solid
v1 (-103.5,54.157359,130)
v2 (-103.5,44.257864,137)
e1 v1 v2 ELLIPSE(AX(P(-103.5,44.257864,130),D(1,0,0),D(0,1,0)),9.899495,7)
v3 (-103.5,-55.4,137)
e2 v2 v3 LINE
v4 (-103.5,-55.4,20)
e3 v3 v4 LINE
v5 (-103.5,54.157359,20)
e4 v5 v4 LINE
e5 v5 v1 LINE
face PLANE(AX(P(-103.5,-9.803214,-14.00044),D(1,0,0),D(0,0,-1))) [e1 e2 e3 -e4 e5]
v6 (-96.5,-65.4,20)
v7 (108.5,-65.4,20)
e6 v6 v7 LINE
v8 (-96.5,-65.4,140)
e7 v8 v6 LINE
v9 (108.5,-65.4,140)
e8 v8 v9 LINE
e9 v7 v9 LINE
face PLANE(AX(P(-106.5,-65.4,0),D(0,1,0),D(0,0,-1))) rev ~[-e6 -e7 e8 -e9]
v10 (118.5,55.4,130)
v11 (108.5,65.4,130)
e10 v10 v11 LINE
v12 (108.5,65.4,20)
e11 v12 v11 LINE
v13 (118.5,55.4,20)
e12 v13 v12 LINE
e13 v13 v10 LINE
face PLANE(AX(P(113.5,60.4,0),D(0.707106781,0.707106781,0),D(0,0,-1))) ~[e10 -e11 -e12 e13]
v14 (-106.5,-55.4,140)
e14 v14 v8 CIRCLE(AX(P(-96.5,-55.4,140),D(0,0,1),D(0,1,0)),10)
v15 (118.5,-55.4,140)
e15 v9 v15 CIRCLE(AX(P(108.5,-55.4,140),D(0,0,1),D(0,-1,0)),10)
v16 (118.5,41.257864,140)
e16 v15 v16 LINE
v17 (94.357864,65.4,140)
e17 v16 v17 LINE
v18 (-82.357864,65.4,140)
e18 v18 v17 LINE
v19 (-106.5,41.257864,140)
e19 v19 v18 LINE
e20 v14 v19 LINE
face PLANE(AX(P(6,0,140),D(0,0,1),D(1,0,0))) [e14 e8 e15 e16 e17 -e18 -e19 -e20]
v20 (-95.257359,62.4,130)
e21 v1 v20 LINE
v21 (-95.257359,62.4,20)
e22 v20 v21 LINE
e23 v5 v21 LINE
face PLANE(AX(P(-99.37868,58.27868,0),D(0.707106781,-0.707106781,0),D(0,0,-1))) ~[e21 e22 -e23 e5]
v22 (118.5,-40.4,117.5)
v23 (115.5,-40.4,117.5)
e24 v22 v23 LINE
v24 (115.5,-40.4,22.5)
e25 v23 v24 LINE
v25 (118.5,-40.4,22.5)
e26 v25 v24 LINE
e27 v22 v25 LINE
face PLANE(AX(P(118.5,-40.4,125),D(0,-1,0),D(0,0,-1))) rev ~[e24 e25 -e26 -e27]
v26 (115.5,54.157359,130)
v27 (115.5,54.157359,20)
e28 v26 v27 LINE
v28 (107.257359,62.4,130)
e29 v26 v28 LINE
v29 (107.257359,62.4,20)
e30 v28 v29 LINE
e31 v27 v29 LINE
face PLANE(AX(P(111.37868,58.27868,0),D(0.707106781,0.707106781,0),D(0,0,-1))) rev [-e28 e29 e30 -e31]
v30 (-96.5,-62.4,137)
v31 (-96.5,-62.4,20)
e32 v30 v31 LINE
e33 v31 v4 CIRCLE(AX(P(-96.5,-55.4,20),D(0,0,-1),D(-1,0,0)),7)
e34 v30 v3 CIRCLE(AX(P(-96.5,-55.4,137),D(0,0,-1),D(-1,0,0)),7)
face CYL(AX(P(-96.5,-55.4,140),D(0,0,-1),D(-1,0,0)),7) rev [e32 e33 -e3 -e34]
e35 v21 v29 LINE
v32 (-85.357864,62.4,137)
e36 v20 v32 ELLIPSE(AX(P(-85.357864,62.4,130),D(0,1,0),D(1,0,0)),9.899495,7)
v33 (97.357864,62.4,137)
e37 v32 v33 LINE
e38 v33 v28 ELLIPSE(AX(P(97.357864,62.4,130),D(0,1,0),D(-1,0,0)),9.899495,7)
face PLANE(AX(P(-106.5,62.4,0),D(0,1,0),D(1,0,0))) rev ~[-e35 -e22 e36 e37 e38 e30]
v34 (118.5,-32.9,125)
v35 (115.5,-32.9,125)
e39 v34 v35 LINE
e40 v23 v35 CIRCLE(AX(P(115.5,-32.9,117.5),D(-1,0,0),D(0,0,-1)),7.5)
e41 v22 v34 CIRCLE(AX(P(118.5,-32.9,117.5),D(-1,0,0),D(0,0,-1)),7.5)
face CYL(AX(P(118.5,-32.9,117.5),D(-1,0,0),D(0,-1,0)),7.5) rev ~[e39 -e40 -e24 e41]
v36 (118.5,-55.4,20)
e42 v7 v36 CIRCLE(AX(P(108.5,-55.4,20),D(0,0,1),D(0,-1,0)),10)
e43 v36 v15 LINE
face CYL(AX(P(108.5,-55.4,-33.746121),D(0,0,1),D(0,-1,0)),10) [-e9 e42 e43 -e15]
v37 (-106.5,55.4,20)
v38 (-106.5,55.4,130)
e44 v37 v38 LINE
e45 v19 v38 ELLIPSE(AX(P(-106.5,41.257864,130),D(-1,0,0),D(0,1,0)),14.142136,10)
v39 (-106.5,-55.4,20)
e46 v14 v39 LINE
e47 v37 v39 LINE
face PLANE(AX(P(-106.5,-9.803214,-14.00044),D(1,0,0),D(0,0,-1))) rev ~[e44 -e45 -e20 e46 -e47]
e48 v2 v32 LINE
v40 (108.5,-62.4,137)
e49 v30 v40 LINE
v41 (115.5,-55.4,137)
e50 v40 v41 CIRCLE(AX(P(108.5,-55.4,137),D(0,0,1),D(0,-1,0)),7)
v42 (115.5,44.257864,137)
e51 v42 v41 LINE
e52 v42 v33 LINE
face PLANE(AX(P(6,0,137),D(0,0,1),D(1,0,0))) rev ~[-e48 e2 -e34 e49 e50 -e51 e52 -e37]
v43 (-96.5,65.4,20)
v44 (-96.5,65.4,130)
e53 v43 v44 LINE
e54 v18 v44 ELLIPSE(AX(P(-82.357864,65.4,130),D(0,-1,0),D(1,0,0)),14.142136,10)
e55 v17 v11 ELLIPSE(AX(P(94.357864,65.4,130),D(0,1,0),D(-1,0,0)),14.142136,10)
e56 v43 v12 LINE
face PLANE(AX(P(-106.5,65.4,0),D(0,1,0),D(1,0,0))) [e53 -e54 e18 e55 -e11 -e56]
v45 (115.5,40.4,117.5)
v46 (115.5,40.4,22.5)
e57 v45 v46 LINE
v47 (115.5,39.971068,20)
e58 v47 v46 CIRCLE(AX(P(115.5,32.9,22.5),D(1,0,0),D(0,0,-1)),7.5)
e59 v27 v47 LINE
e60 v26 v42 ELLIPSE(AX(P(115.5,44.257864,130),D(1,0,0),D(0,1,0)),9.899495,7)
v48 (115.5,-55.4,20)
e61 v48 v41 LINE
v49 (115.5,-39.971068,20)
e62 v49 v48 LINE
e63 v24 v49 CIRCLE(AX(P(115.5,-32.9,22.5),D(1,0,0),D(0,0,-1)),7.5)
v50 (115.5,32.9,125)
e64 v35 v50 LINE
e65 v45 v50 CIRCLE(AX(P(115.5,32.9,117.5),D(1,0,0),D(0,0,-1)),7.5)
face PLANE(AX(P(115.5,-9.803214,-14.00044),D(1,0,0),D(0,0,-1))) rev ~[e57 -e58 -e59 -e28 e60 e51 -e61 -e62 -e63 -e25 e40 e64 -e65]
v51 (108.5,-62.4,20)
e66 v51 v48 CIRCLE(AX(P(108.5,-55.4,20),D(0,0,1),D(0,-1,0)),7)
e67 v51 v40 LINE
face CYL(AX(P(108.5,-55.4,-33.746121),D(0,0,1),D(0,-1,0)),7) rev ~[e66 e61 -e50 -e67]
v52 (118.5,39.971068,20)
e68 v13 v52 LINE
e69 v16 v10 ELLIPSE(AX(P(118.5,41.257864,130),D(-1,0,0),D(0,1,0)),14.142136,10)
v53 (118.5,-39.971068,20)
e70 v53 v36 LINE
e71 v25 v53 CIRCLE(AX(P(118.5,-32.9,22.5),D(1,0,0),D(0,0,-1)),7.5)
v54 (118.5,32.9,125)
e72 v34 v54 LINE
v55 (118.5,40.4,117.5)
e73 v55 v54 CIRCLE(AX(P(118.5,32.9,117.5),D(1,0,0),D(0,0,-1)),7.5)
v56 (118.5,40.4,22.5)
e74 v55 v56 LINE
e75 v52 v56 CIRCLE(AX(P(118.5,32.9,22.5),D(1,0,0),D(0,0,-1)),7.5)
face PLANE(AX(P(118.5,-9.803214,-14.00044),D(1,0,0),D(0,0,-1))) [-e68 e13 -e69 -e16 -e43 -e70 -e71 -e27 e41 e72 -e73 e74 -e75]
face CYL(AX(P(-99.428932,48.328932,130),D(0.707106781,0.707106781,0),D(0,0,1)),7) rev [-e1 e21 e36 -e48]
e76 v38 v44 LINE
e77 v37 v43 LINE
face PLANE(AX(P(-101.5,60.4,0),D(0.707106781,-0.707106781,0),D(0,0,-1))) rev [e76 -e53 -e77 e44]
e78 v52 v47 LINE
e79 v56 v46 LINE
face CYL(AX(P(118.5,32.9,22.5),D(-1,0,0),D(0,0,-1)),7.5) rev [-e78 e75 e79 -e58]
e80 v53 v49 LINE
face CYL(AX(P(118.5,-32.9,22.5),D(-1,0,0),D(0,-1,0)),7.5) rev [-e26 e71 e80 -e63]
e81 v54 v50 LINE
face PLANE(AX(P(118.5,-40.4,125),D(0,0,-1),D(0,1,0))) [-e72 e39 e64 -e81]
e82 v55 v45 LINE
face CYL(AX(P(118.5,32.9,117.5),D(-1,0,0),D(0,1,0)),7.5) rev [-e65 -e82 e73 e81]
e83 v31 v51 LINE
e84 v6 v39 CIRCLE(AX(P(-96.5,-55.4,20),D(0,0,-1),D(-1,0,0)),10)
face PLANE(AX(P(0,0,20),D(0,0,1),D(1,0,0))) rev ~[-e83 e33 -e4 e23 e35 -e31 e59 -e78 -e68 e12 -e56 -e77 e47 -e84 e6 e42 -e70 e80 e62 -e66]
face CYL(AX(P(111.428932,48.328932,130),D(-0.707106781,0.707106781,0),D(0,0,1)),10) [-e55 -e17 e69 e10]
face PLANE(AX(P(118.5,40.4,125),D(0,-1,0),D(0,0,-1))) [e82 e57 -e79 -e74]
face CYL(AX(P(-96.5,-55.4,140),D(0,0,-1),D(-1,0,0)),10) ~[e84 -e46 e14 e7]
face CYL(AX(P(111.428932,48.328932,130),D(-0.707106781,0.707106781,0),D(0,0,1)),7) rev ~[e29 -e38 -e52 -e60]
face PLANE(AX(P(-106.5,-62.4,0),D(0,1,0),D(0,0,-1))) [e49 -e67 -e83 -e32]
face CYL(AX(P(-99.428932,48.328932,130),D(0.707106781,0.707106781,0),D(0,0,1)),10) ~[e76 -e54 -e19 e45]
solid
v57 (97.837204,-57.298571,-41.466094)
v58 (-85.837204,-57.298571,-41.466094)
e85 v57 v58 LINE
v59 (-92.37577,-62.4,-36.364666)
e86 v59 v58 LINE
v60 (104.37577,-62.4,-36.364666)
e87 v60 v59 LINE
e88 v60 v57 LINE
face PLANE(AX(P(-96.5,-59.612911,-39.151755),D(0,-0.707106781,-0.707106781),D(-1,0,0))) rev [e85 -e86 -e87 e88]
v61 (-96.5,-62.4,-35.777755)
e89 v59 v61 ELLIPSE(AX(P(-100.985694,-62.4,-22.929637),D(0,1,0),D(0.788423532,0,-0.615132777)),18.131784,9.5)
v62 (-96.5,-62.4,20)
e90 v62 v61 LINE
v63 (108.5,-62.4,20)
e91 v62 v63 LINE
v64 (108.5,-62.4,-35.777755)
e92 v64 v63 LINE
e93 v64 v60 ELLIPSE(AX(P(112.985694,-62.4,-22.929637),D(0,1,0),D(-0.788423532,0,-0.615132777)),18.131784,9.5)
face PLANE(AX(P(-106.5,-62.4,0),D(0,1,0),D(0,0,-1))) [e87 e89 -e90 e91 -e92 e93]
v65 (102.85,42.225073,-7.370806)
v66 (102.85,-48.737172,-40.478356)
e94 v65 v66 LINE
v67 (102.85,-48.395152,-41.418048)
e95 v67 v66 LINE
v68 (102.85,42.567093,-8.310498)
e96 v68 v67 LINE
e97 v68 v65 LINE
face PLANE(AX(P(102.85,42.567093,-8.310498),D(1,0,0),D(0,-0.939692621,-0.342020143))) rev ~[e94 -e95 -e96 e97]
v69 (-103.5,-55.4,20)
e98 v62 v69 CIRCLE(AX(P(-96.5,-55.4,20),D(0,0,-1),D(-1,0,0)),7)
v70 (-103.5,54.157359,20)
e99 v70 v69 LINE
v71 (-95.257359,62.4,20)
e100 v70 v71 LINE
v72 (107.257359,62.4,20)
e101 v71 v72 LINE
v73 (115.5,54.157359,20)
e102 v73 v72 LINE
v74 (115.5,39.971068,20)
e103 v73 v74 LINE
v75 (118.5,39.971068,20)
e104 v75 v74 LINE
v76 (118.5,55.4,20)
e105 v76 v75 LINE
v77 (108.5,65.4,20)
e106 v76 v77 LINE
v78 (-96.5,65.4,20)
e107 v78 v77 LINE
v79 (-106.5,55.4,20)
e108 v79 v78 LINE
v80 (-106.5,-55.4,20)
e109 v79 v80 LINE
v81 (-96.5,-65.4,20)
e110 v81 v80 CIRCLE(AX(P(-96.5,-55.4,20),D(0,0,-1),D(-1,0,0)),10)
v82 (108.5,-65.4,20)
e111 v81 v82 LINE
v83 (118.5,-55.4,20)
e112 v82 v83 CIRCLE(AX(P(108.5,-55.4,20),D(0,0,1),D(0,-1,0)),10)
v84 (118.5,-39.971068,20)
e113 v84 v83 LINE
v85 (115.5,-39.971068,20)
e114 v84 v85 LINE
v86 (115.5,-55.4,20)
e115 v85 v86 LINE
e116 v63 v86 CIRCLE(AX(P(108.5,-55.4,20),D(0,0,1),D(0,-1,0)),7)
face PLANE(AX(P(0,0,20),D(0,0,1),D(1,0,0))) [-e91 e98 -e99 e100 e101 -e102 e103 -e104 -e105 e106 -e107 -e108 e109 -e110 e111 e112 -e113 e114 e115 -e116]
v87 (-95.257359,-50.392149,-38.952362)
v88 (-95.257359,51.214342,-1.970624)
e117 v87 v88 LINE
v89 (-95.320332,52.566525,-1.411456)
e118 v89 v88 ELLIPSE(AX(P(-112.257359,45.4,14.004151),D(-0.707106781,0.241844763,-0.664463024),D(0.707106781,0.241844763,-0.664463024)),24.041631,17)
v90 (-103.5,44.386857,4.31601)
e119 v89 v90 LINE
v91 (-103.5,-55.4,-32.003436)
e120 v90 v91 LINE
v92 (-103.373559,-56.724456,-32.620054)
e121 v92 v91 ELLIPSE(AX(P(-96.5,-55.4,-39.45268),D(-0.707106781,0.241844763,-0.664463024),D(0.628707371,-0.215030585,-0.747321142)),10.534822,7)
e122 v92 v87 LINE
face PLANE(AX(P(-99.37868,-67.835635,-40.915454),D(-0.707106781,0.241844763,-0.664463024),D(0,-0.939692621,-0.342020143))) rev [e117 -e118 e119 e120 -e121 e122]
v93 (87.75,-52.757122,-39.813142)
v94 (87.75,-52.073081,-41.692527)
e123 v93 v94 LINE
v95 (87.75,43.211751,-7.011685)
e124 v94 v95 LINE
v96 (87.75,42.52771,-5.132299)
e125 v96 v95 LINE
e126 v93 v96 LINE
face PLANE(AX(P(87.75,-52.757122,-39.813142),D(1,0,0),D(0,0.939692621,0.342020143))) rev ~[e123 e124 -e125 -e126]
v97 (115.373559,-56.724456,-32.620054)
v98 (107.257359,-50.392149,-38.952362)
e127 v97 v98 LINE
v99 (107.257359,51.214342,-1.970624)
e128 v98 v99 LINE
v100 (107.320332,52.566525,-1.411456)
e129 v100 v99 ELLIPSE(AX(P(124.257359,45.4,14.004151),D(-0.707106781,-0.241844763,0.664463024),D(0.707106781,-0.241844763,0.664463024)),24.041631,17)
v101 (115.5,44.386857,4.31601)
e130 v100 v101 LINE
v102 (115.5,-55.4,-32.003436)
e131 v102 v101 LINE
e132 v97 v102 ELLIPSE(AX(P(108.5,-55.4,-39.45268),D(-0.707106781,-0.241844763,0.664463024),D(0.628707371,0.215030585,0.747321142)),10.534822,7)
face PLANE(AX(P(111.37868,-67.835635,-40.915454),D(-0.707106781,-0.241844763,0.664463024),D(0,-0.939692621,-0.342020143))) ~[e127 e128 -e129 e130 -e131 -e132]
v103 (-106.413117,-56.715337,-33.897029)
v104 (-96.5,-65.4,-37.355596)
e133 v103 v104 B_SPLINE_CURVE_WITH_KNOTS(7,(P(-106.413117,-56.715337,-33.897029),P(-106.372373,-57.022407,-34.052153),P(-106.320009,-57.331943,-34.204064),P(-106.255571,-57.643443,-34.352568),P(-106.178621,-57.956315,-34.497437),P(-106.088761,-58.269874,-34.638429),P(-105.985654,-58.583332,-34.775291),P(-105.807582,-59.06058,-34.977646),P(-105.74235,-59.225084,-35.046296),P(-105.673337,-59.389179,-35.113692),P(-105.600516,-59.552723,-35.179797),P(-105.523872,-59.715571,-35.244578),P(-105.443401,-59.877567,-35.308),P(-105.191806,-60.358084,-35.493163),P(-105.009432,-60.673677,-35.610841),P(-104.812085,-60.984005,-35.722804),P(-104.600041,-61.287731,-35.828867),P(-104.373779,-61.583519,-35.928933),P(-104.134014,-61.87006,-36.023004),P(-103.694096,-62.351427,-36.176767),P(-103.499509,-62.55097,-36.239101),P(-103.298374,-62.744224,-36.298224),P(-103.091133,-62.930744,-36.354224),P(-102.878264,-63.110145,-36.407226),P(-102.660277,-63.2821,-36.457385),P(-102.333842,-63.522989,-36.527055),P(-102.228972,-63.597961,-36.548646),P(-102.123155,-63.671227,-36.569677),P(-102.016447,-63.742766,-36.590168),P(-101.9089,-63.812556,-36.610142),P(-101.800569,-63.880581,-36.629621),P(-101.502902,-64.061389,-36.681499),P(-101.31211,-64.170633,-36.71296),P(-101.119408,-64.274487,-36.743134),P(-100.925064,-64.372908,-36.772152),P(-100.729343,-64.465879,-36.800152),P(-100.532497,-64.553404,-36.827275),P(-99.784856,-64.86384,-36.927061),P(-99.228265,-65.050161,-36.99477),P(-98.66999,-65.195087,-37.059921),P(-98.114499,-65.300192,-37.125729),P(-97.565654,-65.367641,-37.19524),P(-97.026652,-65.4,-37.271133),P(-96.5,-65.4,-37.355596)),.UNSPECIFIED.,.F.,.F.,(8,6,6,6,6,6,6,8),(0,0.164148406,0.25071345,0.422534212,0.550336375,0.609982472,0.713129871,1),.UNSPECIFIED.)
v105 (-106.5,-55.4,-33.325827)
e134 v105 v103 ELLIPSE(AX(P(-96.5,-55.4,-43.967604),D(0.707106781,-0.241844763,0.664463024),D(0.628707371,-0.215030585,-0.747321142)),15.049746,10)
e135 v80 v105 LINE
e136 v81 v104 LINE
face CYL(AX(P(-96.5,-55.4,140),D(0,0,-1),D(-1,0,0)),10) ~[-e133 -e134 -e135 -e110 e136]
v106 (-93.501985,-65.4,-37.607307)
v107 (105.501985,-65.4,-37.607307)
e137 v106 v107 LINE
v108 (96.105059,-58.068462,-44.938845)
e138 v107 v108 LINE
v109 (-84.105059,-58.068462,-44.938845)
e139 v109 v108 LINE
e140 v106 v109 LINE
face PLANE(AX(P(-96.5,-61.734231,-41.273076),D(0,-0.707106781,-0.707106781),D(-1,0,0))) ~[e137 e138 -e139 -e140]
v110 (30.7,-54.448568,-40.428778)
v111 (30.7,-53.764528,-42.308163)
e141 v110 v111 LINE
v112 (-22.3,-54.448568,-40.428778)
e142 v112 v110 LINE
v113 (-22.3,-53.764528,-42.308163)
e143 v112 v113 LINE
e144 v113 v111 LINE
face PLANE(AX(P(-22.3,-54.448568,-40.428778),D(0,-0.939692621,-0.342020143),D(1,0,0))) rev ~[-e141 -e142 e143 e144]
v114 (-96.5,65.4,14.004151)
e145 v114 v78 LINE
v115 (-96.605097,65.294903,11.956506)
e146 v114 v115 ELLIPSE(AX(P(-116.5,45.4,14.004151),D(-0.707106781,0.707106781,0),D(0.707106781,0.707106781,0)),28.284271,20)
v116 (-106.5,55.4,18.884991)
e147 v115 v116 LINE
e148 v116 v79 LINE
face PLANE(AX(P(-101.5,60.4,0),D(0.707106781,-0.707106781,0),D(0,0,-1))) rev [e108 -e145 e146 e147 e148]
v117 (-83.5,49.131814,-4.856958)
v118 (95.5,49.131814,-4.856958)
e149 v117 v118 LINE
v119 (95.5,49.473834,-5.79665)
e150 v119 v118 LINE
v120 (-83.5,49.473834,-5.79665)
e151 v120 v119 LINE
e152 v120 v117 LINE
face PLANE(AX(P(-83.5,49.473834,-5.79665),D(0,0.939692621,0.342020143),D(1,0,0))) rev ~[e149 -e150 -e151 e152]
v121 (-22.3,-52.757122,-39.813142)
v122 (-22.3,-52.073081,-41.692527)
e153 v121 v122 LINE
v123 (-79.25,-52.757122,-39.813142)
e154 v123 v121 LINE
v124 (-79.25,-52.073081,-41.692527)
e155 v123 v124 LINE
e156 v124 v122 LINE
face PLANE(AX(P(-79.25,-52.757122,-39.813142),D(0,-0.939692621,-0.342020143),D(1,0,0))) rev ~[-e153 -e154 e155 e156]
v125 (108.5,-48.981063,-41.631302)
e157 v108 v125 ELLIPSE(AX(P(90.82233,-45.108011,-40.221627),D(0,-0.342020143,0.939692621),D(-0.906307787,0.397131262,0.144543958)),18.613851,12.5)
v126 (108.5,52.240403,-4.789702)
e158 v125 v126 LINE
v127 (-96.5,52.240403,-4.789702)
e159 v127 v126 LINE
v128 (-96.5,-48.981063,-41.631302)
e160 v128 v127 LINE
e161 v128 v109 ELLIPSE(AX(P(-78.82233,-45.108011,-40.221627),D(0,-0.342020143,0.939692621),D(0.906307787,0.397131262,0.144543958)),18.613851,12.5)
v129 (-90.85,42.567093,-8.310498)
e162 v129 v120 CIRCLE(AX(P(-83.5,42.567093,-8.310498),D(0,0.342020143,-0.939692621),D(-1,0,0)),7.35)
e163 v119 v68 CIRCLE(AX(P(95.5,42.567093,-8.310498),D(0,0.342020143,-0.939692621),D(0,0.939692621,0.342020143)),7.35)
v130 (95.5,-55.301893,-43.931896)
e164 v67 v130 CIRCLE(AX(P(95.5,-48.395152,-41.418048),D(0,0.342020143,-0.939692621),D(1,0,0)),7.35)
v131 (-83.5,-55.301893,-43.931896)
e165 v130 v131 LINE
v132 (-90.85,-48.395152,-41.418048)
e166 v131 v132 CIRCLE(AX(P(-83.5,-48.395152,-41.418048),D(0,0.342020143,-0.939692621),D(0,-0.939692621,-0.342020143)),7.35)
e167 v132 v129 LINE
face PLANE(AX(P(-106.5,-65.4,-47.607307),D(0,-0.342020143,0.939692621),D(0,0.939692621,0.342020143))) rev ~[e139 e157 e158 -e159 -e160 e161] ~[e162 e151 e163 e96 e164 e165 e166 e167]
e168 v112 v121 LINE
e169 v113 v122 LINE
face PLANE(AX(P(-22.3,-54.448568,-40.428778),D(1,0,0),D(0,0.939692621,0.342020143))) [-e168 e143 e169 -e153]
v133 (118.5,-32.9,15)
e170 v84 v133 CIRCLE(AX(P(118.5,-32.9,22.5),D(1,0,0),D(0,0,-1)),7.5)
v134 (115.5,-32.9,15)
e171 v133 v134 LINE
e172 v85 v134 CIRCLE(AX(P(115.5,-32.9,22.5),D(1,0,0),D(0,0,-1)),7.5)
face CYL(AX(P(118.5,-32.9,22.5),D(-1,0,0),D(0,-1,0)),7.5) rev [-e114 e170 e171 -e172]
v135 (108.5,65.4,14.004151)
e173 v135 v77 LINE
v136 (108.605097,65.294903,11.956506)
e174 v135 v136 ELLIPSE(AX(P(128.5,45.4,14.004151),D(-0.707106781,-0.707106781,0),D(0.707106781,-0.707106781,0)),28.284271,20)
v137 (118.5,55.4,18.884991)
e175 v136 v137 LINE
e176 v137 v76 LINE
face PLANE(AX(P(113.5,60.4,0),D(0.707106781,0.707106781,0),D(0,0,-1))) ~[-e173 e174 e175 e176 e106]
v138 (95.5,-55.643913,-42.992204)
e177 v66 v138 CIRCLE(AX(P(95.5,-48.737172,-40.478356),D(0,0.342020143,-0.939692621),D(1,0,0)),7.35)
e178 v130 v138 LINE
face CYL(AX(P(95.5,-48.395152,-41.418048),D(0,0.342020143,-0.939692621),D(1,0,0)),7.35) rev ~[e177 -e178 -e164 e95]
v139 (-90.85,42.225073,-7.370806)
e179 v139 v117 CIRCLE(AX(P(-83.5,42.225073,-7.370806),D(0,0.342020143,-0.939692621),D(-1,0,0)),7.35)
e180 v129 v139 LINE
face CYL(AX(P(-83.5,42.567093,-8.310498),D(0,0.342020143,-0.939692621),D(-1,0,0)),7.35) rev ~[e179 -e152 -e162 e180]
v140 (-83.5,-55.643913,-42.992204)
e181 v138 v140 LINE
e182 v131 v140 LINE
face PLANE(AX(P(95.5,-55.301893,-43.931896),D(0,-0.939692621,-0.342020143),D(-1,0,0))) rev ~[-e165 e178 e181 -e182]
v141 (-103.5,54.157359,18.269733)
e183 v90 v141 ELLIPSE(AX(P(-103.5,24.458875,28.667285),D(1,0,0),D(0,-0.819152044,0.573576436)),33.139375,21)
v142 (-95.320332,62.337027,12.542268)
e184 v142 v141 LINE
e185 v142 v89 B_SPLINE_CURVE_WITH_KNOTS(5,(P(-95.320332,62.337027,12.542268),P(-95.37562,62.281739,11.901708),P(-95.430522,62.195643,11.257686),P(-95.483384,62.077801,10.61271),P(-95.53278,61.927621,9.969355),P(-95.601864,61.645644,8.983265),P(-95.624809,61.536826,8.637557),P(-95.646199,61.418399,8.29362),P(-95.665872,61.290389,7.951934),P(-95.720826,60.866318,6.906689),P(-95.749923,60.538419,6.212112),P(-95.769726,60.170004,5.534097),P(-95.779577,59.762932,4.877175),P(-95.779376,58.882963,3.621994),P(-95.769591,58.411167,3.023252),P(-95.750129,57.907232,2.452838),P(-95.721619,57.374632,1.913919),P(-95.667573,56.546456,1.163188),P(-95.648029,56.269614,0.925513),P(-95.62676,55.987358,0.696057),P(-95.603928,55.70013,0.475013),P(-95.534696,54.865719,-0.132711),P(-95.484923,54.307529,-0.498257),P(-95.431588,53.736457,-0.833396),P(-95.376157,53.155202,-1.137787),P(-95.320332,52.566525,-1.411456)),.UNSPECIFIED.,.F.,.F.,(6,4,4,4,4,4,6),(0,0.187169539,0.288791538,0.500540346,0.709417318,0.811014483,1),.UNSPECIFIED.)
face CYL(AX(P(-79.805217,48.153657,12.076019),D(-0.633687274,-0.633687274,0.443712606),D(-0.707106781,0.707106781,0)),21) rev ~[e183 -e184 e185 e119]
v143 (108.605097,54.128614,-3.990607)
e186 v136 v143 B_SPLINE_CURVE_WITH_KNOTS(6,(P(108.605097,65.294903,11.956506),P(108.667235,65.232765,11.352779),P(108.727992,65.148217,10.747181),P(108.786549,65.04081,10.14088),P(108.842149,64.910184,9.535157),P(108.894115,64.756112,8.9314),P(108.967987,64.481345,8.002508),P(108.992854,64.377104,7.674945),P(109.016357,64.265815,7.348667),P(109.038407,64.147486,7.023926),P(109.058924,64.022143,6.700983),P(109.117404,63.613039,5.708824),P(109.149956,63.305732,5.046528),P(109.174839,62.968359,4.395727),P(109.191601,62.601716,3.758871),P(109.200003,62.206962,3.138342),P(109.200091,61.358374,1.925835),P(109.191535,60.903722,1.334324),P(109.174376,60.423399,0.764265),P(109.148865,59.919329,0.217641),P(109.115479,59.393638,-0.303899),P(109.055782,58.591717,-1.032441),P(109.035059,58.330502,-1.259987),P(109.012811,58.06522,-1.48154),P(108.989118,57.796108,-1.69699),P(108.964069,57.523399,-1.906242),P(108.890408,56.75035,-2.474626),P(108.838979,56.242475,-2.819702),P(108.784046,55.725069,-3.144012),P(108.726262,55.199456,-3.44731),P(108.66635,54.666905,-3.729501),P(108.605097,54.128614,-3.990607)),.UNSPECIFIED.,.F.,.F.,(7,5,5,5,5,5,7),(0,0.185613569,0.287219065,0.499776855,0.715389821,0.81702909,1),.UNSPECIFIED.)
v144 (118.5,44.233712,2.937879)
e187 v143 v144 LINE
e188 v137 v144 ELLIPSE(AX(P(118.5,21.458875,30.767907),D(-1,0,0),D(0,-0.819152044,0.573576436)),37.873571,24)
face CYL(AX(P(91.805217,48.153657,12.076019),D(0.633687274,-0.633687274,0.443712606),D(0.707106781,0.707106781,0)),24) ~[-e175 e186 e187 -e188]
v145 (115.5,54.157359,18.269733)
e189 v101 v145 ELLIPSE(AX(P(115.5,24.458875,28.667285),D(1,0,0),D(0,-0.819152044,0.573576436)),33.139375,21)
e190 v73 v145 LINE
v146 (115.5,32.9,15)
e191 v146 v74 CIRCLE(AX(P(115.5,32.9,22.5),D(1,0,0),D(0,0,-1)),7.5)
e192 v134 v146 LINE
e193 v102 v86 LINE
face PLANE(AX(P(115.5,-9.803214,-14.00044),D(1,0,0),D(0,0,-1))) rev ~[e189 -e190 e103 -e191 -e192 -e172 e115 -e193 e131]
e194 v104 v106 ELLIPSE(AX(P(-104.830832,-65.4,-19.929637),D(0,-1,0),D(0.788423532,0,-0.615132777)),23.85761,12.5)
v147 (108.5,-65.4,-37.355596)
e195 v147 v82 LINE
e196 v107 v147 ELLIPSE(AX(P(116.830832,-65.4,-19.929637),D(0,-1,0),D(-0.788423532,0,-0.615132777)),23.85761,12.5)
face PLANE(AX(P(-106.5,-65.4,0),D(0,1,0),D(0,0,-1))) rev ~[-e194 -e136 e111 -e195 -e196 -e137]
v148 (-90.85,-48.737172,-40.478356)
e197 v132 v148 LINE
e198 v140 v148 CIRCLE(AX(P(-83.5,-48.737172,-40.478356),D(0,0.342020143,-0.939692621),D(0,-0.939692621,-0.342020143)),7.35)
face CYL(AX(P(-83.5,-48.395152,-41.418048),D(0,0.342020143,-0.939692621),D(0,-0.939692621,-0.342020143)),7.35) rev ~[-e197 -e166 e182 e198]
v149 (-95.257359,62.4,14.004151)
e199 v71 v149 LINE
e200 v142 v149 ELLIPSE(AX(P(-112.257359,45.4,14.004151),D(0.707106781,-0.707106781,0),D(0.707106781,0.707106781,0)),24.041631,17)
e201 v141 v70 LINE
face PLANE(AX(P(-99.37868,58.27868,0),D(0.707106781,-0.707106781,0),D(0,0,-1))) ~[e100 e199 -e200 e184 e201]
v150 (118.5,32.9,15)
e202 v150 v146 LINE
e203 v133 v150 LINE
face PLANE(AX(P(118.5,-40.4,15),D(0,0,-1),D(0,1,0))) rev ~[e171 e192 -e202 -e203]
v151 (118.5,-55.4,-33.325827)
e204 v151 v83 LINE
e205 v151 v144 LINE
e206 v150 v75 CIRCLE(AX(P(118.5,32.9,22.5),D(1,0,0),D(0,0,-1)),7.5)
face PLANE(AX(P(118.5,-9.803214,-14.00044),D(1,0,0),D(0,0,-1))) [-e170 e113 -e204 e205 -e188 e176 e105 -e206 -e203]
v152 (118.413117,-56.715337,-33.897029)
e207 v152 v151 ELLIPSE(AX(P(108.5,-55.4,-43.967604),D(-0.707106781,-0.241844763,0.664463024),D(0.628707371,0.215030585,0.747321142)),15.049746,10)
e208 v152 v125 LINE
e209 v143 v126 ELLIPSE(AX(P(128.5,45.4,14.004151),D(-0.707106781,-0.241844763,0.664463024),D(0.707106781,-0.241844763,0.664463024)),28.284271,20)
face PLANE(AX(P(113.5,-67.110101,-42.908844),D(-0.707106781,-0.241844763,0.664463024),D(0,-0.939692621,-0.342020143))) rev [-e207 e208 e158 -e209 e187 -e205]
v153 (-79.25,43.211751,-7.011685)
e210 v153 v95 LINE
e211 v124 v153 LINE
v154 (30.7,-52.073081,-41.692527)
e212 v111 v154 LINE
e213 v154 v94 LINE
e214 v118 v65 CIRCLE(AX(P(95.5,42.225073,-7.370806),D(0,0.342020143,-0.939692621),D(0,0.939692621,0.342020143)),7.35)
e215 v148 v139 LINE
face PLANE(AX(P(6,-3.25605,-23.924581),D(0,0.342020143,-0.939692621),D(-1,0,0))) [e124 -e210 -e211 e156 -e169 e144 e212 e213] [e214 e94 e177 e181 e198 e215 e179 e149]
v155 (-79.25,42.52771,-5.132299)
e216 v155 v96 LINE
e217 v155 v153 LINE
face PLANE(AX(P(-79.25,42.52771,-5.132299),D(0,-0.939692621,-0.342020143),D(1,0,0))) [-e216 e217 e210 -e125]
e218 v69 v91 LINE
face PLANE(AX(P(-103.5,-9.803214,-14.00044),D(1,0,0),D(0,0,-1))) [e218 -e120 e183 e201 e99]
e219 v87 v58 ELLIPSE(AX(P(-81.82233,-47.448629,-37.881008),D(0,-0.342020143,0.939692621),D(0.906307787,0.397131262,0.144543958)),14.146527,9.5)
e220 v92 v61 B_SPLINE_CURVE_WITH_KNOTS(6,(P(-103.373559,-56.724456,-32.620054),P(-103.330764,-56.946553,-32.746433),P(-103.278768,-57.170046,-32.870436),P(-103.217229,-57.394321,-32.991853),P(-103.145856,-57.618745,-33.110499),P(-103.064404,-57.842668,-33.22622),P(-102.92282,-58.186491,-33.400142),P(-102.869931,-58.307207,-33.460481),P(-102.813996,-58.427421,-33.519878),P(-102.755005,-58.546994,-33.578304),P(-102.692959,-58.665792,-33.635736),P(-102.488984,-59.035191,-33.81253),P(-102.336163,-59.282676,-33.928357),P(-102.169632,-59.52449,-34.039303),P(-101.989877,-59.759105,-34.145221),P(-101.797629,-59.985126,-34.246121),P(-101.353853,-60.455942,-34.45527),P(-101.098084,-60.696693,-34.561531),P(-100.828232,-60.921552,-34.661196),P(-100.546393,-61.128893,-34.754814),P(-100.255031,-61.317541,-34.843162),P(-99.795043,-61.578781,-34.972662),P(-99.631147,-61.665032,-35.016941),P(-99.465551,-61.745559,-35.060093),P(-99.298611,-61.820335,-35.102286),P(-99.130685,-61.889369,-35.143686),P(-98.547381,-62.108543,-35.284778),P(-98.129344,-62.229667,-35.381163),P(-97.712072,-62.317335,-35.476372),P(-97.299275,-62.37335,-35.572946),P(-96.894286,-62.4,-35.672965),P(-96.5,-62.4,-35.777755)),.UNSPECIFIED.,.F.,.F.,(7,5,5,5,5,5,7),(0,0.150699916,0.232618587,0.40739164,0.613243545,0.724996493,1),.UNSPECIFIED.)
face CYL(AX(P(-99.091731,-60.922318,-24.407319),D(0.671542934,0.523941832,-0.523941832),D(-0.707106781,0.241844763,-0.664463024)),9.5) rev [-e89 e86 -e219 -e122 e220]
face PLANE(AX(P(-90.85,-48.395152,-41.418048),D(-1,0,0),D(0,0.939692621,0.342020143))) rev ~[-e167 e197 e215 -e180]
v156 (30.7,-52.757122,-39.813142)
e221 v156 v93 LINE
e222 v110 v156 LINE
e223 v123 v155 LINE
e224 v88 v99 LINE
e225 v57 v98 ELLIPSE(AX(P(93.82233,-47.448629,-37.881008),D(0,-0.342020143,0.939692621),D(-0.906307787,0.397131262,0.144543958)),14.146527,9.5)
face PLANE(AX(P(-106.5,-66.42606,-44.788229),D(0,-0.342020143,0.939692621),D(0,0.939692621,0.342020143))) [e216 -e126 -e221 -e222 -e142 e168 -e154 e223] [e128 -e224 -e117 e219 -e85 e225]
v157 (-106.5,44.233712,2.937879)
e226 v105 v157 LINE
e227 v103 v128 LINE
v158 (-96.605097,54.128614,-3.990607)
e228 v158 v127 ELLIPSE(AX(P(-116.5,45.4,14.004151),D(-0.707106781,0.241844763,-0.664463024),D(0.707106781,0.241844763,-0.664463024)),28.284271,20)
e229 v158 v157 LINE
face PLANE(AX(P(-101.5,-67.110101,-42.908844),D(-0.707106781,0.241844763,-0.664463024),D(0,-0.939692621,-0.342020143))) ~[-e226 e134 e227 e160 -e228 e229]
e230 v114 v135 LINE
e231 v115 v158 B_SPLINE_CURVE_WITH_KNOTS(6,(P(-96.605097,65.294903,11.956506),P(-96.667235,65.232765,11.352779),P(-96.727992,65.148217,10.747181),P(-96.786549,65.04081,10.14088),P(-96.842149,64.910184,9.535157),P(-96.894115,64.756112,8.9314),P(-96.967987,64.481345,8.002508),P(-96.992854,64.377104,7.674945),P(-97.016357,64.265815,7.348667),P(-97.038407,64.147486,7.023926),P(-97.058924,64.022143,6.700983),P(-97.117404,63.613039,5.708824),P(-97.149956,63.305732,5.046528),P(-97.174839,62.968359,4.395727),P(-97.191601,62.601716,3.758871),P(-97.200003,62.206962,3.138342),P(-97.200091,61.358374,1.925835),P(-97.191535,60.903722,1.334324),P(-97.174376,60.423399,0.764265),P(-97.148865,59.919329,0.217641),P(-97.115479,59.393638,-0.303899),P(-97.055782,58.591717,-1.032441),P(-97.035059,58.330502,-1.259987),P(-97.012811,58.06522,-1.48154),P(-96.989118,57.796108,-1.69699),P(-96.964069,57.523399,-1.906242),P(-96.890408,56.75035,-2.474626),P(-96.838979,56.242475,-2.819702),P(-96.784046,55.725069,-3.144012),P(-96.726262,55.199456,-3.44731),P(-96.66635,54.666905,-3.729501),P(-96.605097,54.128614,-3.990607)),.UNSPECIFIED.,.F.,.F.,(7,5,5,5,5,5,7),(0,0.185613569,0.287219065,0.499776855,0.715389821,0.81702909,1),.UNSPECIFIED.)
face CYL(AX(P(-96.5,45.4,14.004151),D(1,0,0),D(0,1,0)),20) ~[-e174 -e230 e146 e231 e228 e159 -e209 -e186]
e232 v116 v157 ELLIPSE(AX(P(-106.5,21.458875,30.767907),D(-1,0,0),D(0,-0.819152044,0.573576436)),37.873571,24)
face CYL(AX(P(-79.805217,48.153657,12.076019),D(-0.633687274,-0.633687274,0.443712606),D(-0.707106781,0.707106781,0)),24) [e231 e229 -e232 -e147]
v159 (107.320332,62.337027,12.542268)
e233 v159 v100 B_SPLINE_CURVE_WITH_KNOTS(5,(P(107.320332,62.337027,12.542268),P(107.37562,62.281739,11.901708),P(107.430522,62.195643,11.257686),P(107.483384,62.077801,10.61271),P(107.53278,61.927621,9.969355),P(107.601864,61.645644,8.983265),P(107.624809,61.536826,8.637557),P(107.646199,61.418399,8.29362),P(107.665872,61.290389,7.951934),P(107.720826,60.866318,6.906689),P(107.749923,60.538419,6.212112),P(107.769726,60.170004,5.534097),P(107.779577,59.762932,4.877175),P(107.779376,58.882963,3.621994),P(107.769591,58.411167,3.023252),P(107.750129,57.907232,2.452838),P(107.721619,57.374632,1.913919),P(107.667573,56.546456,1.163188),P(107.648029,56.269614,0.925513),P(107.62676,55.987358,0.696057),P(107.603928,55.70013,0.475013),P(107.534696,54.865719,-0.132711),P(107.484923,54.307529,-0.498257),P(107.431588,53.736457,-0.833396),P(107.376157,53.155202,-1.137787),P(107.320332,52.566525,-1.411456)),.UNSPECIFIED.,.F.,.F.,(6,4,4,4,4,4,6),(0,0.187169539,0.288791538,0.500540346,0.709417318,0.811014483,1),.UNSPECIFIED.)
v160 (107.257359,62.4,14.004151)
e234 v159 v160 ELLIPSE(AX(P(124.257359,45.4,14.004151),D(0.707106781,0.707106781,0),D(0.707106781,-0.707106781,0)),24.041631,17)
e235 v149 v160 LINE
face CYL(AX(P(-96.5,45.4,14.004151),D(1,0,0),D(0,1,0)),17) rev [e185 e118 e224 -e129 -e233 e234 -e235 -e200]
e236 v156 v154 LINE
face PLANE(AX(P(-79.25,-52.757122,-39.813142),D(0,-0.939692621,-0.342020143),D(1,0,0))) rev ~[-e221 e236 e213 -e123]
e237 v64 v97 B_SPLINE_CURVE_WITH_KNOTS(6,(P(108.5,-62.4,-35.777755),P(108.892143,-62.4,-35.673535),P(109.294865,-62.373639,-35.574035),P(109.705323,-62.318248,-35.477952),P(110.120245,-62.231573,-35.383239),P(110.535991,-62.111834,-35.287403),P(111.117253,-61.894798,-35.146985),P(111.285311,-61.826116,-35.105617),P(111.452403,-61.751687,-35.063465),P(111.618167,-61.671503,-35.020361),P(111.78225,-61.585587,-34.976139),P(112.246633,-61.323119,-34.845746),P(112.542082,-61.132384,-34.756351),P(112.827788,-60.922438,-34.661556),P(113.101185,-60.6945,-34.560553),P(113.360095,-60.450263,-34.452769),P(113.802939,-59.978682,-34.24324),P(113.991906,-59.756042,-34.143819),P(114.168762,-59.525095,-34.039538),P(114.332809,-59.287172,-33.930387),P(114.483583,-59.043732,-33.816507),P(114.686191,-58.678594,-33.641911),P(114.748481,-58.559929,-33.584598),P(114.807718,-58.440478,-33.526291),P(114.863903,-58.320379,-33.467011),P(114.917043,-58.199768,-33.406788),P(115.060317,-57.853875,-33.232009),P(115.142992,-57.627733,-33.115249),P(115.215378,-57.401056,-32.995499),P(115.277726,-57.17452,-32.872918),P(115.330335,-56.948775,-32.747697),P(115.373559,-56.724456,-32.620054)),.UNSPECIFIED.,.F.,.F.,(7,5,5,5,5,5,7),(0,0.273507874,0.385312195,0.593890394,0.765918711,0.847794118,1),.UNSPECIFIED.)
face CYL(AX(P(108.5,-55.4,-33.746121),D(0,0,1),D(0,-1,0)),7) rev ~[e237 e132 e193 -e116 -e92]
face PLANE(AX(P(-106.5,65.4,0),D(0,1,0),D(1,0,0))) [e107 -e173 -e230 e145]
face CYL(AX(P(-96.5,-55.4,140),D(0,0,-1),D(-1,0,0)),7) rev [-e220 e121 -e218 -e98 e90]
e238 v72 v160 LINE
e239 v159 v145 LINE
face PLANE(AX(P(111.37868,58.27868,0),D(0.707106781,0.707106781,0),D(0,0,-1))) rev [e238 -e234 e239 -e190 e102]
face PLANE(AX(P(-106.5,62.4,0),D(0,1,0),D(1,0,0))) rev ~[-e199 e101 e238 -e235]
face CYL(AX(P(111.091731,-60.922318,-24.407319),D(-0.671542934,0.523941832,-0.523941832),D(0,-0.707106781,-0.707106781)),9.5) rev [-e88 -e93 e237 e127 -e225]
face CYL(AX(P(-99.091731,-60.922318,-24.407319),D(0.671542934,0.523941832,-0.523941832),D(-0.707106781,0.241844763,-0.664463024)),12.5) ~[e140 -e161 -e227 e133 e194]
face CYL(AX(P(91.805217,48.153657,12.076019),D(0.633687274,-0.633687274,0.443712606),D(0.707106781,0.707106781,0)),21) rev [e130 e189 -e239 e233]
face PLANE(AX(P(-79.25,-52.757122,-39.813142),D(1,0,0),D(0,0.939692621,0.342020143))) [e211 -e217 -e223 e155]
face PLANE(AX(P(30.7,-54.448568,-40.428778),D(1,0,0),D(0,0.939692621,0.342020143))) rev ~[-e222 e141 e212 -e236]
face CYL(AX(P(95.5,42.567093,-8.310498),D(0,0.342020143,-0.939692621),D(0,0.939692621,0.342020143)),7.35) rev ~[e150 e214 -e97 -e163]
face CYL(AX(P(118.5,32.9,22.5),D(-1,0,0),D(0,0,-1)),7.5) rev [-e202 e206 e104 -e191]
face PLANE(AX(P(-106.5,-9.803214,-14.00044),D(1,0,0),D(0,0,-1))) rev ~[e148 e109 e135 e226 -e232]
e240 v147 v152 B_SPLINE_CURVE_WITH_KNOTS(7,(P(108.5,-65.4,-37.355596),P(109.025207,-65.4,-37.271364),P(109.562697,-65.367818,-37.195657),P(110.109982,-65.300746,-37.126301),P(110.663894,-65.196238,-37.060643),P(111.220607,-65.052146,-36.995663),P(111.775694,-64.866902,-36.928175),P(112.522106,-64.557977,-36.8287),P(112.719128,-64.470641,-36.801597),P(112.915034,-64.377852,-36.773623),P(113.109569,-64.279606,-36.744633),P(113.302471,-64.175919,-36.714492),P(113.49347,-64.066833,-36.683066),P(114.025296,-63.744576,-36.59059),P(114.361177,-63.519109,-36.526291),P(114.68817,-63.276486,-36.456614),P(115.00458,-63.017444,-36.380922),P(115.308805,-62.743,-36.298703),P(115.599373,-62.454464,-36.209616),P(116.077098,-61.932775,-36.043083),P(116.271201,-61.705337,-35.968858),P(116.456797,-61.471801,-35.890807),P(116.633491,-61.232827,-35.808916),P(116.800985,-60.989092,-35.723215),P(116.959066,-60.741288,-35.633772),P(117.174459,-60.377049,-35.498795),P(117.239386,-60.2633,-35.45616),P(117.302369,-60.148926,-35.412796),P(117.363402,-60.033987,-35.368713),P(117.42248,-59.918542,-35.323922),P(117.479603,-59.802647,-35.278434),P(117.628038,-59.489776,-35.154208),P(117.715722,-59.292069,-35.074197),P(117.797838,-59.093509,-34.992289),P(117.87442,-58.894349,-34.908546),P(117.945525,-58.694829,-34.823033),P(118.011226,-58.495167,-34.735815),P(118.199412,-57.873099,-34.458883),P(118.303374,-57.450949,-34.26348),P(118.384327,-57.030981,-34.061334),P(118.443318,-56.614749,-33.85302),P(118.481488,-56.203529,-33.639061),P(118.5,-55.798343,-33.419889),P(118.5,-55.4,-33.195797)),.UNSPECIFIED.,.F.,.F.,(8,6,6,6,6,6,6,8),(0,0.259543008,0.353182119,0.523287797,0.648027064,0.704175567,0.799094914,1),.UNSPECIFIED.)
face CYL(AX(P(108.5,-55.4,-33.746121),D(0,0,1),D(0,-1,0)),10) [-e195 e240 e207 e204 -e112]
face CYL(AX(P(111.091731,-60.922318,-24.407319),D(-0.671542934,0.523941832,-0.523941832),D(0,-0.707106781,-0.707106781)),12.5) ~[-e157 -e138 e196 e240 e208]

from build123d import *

# Parameters (mm, degrees)
SKETCH1_W           = 225
SKETCH1_H           = 130.8
BOSS_EXTRUDE1_DEPTH = 140
BOSS_EXTRUDE2_DEPTH = 225
CHAMFER1_SIZE       = 10
FILLET1_R           = 10
FILLET2_R           = 20
FILLET3_R           = 24
CHAMFER2_SIZE       = 10
CHAMFER2_SIZE2      = 7.802060087
FILLET4_R           = 12.5
FILLET5_R           = 10
SHELL1_T            = 3
SKETCH3_W           = 110
SKETCH3_H           = 80.8
CUT_EXTRUDE1_DEPTH  = 3
FILLET6_R           = 7.5
CUT_EXTRUDE2_DEPTH  = 1
CUT_EXTRUDE3_REACH  = 212.374
SKETCH6_W           = 53
SKETCH6_H           = 3
SKETCH6_W_2         = 167
SKETCH6_H_2         = 101.4


with BuildPart() as part:
    # Sketch1 → Boss-Extrude1 (new body)
    with BuildSketch(Plane.XY):
        with Locations((6, 0)):
            Rectangle(SKETCH1_W, SKETCH1_H)
    extrude(amount=BOSS_EXTRUDE1_DEPTH)

    # Sketch2 → Boss-Extrude2 (add)
    with BuildSketch(Plane.ZY.offset(106.5)):
        Polygon((-47.607306642, -65.4), (0, 65.4), (0, -65.4), align=None)
    extrude(amount=-BOSS_EXTRUDE2_DEPTH)

    # Chamfer1
    chamfer1_edges = [part.edges().sort_by_distance(p)[0] for p in [
        (118.5, 0, -23.803653321),
        (-106.5, 0, -23.803653321),
        (118.5, 65.4, 70),
        (-106.5, 65.4, 70),
    ]]
    chamfer(chamfer1_edges, length=CHAMFER1_SIZE)

    # Fillet1
    fillet1_edges = [part.edges().sort_by_distance(p)[0] for p in [
        (113.5, 60.4, 140),
        (-101.5, 60.4, 140),
    ]]
    fillet(fillet1_edges, radius=FILLET1_R)

    # Fillet2
    fillet2_edges = [part.edges().sort_by_distance(p)[0] for p in [
        (6, 65.4, 0),
    ]]
    fillet(fillet2_edges, radius=FILLET2_R)

    # Fillet3
    fillet3_edges = [part.edges().sort_by_distance(p)[0] for p in [
        (-103.308479557, 58.591520443, 4.76734871),
        (115.308479557, 58.591520443, 4.76734871),
    ]]
    fillet(fillet3_edges, radius=FILLET3_R)

    # Chamfer2
    chamfer2_edges = [part.edges().sort_by_distance(p)[0] for p in [
        (6, -65.4, -47.607306642),
    ]]
    chamfer2_side = [part.faces().sort_by_distance(p)[0] for p in [
        (6, -65.4, 46.424462894),
    ]]
    chamfer(chamfer2_edges, length=CHAMFER2_SIZE, length2=CHAMFER2_SIZE2, reference=chamfer2_side[0])

    # Fillet4
    fillet4_edges = [part.edges().sort_by_distance(p)[0] for p in [
        (113.198463104, -61.734230855, -41.273075787),
        (-101.198463104, -61.734230855, -41.273075787),
    ]]
    fillet(fillet4_edges, radius=FILLET4_R)

    # Fillet5
    fillet5_edges = [part.edges().sort_by_distance(p)[0] for p in [
        (-106.5, -65.4, 53.126939576),
        (118.5, -65.4, 53.126939576),
    ]]
    fillet(fillet5_edges, radius=FILLET5_R)

    # Shell1 (no face opened: a closed hollow body)
    add(offset(amount=-SHELL1_T, mode=Mode.PRIVATE), mode=Mode.SUBTRACT)

    # Sketch3 → Cut-Extrude1 (cut)
    with BuildSketch(Plane(origin=(118.5, 0, 0), x_dir=(0, 0, -1), z_dir=(1, 0, 0))):
        with Locations((-70, 0)):
            Rectangle(SKETCH3_W, SKETCH3_H)
    extrude(amount=-CUT_EXTRUDE1_DEPTH, mode=Mode.SUBTRACT)

    # Fillet6
    fillet6_edges = [part.edges().sort_by_distance(p)[0] for p in [
        (117, 40.4, 125),
        (117, 40.4, 15),
        (117, -40.4, 15),
        (117, -40.4, 125),
    ]]
    fillet(fillet6_edges, radius=FILLET6_R)

    # Sketch5 → Cut-Extrude2 (cut)
    with BuildSketch(Plane(origin=(0, 7.65034671, -21.019154837), x_dir=(-1, 0, 0), z_dir=(0, 0.3420201433256695, -0.9396926207859082))):
        with BuildLine():
            Line((90.85, -59.642374259), (90.85, 37.157625741))
            ThreePointArc((90.85, 37.157625741), (88.697234842, 42.354860583), (83.5, 44.507625741))
            Line((83.5, 44.507625741), (-95.5, 44.507625741))
            ThreePointArc((-95.5, 44.507625741), (-100.697234842, 42.354860583), (-102.85, 37.157625741))
            Line((-102.85, 37.157625741), (-102.85, -59.642374259))
            ThreePointArc((-102.85, -59.642374259), (-100.697234842, -64.839609101), (-95.5, -66.992374259))
            Line((-95.5, -66.992374259), (83.5, -66.992374259))
            ThreePointArc((83.5, -66.992374259), (88.697234842, -64.839609101), (90.85, -59.642374259))
        make_face()
    extrude(amount=-CUT_EXTRUDE2_DEPTH, mode=Mode.SUBTRACT)

    # Sketch6 → Cut-Extrude3 (cut, up to next)
    with BuildSketch(Plane(origin=(0, 6.62428628, -18.200076974), x_dir=(1, 0, 0), z_dir=(0, -0.3420201433256695, 0.9396926207859082)), mode=Mode.PRIVATE) as cut_extrude3_sk1:
        with Locations((4.2, -63.492374259)):
            Rectangle(SKETCH6_W, SKETCH6_H)
    cut_extrude3_tool1 = extrude(cut_extrude3_sk1.sketch, amount=-CUT_EXTRUDE3_REACH, mode=Mode.PRIVATE) & part.part
    # Sketch6 → Cut-Extrude3 (cut, up to next)
    with BuildSketch(Plane(origin=(0, 6.62428628, -18.200076974), x_dir=(1, 0, 0), z_dir=(0, -0.3420201433256695, 0.9396926207859082)), mode=Mode.PRIVATE) as cut_extrude3_sk2:
        with Locations((4.25, -12.492374259)):
            Rectangle(SKETCH6_W_2, SKETCH6_H_2)
    cut_extrude3_tool2 = extrude(cut_extrude3_sk2.sketch, amount=-CUT_EXTRUDE3_REACH, mode=Mode.PRIVATE) & part.part
    add(cut_extrude3_tool1.solids().sort_by_distance((4.2, -53.039029, -39.915748))[0], mode=Mode.SUBTRACT)
    add(cut_extrude3_tool2.solids().sort_by_distance((4.25, -5.114706, -22.472721))[0], mode=Mode.SUBTRACT)


with BuildPart() as body_2:
    # Split1: the piece on the far side of the plane
    add(part.part)
    split(bisect_by=Plane.XY.offset(20), keep=Keep.BOTTOM)


with BuildPart() as part_1:
    add(part.part)

    # Split1
    split(bisect_by=Plane.XY.offset(20), keep=Keep.TOP)


solid = Compound([body_2.part, part_1.part])
